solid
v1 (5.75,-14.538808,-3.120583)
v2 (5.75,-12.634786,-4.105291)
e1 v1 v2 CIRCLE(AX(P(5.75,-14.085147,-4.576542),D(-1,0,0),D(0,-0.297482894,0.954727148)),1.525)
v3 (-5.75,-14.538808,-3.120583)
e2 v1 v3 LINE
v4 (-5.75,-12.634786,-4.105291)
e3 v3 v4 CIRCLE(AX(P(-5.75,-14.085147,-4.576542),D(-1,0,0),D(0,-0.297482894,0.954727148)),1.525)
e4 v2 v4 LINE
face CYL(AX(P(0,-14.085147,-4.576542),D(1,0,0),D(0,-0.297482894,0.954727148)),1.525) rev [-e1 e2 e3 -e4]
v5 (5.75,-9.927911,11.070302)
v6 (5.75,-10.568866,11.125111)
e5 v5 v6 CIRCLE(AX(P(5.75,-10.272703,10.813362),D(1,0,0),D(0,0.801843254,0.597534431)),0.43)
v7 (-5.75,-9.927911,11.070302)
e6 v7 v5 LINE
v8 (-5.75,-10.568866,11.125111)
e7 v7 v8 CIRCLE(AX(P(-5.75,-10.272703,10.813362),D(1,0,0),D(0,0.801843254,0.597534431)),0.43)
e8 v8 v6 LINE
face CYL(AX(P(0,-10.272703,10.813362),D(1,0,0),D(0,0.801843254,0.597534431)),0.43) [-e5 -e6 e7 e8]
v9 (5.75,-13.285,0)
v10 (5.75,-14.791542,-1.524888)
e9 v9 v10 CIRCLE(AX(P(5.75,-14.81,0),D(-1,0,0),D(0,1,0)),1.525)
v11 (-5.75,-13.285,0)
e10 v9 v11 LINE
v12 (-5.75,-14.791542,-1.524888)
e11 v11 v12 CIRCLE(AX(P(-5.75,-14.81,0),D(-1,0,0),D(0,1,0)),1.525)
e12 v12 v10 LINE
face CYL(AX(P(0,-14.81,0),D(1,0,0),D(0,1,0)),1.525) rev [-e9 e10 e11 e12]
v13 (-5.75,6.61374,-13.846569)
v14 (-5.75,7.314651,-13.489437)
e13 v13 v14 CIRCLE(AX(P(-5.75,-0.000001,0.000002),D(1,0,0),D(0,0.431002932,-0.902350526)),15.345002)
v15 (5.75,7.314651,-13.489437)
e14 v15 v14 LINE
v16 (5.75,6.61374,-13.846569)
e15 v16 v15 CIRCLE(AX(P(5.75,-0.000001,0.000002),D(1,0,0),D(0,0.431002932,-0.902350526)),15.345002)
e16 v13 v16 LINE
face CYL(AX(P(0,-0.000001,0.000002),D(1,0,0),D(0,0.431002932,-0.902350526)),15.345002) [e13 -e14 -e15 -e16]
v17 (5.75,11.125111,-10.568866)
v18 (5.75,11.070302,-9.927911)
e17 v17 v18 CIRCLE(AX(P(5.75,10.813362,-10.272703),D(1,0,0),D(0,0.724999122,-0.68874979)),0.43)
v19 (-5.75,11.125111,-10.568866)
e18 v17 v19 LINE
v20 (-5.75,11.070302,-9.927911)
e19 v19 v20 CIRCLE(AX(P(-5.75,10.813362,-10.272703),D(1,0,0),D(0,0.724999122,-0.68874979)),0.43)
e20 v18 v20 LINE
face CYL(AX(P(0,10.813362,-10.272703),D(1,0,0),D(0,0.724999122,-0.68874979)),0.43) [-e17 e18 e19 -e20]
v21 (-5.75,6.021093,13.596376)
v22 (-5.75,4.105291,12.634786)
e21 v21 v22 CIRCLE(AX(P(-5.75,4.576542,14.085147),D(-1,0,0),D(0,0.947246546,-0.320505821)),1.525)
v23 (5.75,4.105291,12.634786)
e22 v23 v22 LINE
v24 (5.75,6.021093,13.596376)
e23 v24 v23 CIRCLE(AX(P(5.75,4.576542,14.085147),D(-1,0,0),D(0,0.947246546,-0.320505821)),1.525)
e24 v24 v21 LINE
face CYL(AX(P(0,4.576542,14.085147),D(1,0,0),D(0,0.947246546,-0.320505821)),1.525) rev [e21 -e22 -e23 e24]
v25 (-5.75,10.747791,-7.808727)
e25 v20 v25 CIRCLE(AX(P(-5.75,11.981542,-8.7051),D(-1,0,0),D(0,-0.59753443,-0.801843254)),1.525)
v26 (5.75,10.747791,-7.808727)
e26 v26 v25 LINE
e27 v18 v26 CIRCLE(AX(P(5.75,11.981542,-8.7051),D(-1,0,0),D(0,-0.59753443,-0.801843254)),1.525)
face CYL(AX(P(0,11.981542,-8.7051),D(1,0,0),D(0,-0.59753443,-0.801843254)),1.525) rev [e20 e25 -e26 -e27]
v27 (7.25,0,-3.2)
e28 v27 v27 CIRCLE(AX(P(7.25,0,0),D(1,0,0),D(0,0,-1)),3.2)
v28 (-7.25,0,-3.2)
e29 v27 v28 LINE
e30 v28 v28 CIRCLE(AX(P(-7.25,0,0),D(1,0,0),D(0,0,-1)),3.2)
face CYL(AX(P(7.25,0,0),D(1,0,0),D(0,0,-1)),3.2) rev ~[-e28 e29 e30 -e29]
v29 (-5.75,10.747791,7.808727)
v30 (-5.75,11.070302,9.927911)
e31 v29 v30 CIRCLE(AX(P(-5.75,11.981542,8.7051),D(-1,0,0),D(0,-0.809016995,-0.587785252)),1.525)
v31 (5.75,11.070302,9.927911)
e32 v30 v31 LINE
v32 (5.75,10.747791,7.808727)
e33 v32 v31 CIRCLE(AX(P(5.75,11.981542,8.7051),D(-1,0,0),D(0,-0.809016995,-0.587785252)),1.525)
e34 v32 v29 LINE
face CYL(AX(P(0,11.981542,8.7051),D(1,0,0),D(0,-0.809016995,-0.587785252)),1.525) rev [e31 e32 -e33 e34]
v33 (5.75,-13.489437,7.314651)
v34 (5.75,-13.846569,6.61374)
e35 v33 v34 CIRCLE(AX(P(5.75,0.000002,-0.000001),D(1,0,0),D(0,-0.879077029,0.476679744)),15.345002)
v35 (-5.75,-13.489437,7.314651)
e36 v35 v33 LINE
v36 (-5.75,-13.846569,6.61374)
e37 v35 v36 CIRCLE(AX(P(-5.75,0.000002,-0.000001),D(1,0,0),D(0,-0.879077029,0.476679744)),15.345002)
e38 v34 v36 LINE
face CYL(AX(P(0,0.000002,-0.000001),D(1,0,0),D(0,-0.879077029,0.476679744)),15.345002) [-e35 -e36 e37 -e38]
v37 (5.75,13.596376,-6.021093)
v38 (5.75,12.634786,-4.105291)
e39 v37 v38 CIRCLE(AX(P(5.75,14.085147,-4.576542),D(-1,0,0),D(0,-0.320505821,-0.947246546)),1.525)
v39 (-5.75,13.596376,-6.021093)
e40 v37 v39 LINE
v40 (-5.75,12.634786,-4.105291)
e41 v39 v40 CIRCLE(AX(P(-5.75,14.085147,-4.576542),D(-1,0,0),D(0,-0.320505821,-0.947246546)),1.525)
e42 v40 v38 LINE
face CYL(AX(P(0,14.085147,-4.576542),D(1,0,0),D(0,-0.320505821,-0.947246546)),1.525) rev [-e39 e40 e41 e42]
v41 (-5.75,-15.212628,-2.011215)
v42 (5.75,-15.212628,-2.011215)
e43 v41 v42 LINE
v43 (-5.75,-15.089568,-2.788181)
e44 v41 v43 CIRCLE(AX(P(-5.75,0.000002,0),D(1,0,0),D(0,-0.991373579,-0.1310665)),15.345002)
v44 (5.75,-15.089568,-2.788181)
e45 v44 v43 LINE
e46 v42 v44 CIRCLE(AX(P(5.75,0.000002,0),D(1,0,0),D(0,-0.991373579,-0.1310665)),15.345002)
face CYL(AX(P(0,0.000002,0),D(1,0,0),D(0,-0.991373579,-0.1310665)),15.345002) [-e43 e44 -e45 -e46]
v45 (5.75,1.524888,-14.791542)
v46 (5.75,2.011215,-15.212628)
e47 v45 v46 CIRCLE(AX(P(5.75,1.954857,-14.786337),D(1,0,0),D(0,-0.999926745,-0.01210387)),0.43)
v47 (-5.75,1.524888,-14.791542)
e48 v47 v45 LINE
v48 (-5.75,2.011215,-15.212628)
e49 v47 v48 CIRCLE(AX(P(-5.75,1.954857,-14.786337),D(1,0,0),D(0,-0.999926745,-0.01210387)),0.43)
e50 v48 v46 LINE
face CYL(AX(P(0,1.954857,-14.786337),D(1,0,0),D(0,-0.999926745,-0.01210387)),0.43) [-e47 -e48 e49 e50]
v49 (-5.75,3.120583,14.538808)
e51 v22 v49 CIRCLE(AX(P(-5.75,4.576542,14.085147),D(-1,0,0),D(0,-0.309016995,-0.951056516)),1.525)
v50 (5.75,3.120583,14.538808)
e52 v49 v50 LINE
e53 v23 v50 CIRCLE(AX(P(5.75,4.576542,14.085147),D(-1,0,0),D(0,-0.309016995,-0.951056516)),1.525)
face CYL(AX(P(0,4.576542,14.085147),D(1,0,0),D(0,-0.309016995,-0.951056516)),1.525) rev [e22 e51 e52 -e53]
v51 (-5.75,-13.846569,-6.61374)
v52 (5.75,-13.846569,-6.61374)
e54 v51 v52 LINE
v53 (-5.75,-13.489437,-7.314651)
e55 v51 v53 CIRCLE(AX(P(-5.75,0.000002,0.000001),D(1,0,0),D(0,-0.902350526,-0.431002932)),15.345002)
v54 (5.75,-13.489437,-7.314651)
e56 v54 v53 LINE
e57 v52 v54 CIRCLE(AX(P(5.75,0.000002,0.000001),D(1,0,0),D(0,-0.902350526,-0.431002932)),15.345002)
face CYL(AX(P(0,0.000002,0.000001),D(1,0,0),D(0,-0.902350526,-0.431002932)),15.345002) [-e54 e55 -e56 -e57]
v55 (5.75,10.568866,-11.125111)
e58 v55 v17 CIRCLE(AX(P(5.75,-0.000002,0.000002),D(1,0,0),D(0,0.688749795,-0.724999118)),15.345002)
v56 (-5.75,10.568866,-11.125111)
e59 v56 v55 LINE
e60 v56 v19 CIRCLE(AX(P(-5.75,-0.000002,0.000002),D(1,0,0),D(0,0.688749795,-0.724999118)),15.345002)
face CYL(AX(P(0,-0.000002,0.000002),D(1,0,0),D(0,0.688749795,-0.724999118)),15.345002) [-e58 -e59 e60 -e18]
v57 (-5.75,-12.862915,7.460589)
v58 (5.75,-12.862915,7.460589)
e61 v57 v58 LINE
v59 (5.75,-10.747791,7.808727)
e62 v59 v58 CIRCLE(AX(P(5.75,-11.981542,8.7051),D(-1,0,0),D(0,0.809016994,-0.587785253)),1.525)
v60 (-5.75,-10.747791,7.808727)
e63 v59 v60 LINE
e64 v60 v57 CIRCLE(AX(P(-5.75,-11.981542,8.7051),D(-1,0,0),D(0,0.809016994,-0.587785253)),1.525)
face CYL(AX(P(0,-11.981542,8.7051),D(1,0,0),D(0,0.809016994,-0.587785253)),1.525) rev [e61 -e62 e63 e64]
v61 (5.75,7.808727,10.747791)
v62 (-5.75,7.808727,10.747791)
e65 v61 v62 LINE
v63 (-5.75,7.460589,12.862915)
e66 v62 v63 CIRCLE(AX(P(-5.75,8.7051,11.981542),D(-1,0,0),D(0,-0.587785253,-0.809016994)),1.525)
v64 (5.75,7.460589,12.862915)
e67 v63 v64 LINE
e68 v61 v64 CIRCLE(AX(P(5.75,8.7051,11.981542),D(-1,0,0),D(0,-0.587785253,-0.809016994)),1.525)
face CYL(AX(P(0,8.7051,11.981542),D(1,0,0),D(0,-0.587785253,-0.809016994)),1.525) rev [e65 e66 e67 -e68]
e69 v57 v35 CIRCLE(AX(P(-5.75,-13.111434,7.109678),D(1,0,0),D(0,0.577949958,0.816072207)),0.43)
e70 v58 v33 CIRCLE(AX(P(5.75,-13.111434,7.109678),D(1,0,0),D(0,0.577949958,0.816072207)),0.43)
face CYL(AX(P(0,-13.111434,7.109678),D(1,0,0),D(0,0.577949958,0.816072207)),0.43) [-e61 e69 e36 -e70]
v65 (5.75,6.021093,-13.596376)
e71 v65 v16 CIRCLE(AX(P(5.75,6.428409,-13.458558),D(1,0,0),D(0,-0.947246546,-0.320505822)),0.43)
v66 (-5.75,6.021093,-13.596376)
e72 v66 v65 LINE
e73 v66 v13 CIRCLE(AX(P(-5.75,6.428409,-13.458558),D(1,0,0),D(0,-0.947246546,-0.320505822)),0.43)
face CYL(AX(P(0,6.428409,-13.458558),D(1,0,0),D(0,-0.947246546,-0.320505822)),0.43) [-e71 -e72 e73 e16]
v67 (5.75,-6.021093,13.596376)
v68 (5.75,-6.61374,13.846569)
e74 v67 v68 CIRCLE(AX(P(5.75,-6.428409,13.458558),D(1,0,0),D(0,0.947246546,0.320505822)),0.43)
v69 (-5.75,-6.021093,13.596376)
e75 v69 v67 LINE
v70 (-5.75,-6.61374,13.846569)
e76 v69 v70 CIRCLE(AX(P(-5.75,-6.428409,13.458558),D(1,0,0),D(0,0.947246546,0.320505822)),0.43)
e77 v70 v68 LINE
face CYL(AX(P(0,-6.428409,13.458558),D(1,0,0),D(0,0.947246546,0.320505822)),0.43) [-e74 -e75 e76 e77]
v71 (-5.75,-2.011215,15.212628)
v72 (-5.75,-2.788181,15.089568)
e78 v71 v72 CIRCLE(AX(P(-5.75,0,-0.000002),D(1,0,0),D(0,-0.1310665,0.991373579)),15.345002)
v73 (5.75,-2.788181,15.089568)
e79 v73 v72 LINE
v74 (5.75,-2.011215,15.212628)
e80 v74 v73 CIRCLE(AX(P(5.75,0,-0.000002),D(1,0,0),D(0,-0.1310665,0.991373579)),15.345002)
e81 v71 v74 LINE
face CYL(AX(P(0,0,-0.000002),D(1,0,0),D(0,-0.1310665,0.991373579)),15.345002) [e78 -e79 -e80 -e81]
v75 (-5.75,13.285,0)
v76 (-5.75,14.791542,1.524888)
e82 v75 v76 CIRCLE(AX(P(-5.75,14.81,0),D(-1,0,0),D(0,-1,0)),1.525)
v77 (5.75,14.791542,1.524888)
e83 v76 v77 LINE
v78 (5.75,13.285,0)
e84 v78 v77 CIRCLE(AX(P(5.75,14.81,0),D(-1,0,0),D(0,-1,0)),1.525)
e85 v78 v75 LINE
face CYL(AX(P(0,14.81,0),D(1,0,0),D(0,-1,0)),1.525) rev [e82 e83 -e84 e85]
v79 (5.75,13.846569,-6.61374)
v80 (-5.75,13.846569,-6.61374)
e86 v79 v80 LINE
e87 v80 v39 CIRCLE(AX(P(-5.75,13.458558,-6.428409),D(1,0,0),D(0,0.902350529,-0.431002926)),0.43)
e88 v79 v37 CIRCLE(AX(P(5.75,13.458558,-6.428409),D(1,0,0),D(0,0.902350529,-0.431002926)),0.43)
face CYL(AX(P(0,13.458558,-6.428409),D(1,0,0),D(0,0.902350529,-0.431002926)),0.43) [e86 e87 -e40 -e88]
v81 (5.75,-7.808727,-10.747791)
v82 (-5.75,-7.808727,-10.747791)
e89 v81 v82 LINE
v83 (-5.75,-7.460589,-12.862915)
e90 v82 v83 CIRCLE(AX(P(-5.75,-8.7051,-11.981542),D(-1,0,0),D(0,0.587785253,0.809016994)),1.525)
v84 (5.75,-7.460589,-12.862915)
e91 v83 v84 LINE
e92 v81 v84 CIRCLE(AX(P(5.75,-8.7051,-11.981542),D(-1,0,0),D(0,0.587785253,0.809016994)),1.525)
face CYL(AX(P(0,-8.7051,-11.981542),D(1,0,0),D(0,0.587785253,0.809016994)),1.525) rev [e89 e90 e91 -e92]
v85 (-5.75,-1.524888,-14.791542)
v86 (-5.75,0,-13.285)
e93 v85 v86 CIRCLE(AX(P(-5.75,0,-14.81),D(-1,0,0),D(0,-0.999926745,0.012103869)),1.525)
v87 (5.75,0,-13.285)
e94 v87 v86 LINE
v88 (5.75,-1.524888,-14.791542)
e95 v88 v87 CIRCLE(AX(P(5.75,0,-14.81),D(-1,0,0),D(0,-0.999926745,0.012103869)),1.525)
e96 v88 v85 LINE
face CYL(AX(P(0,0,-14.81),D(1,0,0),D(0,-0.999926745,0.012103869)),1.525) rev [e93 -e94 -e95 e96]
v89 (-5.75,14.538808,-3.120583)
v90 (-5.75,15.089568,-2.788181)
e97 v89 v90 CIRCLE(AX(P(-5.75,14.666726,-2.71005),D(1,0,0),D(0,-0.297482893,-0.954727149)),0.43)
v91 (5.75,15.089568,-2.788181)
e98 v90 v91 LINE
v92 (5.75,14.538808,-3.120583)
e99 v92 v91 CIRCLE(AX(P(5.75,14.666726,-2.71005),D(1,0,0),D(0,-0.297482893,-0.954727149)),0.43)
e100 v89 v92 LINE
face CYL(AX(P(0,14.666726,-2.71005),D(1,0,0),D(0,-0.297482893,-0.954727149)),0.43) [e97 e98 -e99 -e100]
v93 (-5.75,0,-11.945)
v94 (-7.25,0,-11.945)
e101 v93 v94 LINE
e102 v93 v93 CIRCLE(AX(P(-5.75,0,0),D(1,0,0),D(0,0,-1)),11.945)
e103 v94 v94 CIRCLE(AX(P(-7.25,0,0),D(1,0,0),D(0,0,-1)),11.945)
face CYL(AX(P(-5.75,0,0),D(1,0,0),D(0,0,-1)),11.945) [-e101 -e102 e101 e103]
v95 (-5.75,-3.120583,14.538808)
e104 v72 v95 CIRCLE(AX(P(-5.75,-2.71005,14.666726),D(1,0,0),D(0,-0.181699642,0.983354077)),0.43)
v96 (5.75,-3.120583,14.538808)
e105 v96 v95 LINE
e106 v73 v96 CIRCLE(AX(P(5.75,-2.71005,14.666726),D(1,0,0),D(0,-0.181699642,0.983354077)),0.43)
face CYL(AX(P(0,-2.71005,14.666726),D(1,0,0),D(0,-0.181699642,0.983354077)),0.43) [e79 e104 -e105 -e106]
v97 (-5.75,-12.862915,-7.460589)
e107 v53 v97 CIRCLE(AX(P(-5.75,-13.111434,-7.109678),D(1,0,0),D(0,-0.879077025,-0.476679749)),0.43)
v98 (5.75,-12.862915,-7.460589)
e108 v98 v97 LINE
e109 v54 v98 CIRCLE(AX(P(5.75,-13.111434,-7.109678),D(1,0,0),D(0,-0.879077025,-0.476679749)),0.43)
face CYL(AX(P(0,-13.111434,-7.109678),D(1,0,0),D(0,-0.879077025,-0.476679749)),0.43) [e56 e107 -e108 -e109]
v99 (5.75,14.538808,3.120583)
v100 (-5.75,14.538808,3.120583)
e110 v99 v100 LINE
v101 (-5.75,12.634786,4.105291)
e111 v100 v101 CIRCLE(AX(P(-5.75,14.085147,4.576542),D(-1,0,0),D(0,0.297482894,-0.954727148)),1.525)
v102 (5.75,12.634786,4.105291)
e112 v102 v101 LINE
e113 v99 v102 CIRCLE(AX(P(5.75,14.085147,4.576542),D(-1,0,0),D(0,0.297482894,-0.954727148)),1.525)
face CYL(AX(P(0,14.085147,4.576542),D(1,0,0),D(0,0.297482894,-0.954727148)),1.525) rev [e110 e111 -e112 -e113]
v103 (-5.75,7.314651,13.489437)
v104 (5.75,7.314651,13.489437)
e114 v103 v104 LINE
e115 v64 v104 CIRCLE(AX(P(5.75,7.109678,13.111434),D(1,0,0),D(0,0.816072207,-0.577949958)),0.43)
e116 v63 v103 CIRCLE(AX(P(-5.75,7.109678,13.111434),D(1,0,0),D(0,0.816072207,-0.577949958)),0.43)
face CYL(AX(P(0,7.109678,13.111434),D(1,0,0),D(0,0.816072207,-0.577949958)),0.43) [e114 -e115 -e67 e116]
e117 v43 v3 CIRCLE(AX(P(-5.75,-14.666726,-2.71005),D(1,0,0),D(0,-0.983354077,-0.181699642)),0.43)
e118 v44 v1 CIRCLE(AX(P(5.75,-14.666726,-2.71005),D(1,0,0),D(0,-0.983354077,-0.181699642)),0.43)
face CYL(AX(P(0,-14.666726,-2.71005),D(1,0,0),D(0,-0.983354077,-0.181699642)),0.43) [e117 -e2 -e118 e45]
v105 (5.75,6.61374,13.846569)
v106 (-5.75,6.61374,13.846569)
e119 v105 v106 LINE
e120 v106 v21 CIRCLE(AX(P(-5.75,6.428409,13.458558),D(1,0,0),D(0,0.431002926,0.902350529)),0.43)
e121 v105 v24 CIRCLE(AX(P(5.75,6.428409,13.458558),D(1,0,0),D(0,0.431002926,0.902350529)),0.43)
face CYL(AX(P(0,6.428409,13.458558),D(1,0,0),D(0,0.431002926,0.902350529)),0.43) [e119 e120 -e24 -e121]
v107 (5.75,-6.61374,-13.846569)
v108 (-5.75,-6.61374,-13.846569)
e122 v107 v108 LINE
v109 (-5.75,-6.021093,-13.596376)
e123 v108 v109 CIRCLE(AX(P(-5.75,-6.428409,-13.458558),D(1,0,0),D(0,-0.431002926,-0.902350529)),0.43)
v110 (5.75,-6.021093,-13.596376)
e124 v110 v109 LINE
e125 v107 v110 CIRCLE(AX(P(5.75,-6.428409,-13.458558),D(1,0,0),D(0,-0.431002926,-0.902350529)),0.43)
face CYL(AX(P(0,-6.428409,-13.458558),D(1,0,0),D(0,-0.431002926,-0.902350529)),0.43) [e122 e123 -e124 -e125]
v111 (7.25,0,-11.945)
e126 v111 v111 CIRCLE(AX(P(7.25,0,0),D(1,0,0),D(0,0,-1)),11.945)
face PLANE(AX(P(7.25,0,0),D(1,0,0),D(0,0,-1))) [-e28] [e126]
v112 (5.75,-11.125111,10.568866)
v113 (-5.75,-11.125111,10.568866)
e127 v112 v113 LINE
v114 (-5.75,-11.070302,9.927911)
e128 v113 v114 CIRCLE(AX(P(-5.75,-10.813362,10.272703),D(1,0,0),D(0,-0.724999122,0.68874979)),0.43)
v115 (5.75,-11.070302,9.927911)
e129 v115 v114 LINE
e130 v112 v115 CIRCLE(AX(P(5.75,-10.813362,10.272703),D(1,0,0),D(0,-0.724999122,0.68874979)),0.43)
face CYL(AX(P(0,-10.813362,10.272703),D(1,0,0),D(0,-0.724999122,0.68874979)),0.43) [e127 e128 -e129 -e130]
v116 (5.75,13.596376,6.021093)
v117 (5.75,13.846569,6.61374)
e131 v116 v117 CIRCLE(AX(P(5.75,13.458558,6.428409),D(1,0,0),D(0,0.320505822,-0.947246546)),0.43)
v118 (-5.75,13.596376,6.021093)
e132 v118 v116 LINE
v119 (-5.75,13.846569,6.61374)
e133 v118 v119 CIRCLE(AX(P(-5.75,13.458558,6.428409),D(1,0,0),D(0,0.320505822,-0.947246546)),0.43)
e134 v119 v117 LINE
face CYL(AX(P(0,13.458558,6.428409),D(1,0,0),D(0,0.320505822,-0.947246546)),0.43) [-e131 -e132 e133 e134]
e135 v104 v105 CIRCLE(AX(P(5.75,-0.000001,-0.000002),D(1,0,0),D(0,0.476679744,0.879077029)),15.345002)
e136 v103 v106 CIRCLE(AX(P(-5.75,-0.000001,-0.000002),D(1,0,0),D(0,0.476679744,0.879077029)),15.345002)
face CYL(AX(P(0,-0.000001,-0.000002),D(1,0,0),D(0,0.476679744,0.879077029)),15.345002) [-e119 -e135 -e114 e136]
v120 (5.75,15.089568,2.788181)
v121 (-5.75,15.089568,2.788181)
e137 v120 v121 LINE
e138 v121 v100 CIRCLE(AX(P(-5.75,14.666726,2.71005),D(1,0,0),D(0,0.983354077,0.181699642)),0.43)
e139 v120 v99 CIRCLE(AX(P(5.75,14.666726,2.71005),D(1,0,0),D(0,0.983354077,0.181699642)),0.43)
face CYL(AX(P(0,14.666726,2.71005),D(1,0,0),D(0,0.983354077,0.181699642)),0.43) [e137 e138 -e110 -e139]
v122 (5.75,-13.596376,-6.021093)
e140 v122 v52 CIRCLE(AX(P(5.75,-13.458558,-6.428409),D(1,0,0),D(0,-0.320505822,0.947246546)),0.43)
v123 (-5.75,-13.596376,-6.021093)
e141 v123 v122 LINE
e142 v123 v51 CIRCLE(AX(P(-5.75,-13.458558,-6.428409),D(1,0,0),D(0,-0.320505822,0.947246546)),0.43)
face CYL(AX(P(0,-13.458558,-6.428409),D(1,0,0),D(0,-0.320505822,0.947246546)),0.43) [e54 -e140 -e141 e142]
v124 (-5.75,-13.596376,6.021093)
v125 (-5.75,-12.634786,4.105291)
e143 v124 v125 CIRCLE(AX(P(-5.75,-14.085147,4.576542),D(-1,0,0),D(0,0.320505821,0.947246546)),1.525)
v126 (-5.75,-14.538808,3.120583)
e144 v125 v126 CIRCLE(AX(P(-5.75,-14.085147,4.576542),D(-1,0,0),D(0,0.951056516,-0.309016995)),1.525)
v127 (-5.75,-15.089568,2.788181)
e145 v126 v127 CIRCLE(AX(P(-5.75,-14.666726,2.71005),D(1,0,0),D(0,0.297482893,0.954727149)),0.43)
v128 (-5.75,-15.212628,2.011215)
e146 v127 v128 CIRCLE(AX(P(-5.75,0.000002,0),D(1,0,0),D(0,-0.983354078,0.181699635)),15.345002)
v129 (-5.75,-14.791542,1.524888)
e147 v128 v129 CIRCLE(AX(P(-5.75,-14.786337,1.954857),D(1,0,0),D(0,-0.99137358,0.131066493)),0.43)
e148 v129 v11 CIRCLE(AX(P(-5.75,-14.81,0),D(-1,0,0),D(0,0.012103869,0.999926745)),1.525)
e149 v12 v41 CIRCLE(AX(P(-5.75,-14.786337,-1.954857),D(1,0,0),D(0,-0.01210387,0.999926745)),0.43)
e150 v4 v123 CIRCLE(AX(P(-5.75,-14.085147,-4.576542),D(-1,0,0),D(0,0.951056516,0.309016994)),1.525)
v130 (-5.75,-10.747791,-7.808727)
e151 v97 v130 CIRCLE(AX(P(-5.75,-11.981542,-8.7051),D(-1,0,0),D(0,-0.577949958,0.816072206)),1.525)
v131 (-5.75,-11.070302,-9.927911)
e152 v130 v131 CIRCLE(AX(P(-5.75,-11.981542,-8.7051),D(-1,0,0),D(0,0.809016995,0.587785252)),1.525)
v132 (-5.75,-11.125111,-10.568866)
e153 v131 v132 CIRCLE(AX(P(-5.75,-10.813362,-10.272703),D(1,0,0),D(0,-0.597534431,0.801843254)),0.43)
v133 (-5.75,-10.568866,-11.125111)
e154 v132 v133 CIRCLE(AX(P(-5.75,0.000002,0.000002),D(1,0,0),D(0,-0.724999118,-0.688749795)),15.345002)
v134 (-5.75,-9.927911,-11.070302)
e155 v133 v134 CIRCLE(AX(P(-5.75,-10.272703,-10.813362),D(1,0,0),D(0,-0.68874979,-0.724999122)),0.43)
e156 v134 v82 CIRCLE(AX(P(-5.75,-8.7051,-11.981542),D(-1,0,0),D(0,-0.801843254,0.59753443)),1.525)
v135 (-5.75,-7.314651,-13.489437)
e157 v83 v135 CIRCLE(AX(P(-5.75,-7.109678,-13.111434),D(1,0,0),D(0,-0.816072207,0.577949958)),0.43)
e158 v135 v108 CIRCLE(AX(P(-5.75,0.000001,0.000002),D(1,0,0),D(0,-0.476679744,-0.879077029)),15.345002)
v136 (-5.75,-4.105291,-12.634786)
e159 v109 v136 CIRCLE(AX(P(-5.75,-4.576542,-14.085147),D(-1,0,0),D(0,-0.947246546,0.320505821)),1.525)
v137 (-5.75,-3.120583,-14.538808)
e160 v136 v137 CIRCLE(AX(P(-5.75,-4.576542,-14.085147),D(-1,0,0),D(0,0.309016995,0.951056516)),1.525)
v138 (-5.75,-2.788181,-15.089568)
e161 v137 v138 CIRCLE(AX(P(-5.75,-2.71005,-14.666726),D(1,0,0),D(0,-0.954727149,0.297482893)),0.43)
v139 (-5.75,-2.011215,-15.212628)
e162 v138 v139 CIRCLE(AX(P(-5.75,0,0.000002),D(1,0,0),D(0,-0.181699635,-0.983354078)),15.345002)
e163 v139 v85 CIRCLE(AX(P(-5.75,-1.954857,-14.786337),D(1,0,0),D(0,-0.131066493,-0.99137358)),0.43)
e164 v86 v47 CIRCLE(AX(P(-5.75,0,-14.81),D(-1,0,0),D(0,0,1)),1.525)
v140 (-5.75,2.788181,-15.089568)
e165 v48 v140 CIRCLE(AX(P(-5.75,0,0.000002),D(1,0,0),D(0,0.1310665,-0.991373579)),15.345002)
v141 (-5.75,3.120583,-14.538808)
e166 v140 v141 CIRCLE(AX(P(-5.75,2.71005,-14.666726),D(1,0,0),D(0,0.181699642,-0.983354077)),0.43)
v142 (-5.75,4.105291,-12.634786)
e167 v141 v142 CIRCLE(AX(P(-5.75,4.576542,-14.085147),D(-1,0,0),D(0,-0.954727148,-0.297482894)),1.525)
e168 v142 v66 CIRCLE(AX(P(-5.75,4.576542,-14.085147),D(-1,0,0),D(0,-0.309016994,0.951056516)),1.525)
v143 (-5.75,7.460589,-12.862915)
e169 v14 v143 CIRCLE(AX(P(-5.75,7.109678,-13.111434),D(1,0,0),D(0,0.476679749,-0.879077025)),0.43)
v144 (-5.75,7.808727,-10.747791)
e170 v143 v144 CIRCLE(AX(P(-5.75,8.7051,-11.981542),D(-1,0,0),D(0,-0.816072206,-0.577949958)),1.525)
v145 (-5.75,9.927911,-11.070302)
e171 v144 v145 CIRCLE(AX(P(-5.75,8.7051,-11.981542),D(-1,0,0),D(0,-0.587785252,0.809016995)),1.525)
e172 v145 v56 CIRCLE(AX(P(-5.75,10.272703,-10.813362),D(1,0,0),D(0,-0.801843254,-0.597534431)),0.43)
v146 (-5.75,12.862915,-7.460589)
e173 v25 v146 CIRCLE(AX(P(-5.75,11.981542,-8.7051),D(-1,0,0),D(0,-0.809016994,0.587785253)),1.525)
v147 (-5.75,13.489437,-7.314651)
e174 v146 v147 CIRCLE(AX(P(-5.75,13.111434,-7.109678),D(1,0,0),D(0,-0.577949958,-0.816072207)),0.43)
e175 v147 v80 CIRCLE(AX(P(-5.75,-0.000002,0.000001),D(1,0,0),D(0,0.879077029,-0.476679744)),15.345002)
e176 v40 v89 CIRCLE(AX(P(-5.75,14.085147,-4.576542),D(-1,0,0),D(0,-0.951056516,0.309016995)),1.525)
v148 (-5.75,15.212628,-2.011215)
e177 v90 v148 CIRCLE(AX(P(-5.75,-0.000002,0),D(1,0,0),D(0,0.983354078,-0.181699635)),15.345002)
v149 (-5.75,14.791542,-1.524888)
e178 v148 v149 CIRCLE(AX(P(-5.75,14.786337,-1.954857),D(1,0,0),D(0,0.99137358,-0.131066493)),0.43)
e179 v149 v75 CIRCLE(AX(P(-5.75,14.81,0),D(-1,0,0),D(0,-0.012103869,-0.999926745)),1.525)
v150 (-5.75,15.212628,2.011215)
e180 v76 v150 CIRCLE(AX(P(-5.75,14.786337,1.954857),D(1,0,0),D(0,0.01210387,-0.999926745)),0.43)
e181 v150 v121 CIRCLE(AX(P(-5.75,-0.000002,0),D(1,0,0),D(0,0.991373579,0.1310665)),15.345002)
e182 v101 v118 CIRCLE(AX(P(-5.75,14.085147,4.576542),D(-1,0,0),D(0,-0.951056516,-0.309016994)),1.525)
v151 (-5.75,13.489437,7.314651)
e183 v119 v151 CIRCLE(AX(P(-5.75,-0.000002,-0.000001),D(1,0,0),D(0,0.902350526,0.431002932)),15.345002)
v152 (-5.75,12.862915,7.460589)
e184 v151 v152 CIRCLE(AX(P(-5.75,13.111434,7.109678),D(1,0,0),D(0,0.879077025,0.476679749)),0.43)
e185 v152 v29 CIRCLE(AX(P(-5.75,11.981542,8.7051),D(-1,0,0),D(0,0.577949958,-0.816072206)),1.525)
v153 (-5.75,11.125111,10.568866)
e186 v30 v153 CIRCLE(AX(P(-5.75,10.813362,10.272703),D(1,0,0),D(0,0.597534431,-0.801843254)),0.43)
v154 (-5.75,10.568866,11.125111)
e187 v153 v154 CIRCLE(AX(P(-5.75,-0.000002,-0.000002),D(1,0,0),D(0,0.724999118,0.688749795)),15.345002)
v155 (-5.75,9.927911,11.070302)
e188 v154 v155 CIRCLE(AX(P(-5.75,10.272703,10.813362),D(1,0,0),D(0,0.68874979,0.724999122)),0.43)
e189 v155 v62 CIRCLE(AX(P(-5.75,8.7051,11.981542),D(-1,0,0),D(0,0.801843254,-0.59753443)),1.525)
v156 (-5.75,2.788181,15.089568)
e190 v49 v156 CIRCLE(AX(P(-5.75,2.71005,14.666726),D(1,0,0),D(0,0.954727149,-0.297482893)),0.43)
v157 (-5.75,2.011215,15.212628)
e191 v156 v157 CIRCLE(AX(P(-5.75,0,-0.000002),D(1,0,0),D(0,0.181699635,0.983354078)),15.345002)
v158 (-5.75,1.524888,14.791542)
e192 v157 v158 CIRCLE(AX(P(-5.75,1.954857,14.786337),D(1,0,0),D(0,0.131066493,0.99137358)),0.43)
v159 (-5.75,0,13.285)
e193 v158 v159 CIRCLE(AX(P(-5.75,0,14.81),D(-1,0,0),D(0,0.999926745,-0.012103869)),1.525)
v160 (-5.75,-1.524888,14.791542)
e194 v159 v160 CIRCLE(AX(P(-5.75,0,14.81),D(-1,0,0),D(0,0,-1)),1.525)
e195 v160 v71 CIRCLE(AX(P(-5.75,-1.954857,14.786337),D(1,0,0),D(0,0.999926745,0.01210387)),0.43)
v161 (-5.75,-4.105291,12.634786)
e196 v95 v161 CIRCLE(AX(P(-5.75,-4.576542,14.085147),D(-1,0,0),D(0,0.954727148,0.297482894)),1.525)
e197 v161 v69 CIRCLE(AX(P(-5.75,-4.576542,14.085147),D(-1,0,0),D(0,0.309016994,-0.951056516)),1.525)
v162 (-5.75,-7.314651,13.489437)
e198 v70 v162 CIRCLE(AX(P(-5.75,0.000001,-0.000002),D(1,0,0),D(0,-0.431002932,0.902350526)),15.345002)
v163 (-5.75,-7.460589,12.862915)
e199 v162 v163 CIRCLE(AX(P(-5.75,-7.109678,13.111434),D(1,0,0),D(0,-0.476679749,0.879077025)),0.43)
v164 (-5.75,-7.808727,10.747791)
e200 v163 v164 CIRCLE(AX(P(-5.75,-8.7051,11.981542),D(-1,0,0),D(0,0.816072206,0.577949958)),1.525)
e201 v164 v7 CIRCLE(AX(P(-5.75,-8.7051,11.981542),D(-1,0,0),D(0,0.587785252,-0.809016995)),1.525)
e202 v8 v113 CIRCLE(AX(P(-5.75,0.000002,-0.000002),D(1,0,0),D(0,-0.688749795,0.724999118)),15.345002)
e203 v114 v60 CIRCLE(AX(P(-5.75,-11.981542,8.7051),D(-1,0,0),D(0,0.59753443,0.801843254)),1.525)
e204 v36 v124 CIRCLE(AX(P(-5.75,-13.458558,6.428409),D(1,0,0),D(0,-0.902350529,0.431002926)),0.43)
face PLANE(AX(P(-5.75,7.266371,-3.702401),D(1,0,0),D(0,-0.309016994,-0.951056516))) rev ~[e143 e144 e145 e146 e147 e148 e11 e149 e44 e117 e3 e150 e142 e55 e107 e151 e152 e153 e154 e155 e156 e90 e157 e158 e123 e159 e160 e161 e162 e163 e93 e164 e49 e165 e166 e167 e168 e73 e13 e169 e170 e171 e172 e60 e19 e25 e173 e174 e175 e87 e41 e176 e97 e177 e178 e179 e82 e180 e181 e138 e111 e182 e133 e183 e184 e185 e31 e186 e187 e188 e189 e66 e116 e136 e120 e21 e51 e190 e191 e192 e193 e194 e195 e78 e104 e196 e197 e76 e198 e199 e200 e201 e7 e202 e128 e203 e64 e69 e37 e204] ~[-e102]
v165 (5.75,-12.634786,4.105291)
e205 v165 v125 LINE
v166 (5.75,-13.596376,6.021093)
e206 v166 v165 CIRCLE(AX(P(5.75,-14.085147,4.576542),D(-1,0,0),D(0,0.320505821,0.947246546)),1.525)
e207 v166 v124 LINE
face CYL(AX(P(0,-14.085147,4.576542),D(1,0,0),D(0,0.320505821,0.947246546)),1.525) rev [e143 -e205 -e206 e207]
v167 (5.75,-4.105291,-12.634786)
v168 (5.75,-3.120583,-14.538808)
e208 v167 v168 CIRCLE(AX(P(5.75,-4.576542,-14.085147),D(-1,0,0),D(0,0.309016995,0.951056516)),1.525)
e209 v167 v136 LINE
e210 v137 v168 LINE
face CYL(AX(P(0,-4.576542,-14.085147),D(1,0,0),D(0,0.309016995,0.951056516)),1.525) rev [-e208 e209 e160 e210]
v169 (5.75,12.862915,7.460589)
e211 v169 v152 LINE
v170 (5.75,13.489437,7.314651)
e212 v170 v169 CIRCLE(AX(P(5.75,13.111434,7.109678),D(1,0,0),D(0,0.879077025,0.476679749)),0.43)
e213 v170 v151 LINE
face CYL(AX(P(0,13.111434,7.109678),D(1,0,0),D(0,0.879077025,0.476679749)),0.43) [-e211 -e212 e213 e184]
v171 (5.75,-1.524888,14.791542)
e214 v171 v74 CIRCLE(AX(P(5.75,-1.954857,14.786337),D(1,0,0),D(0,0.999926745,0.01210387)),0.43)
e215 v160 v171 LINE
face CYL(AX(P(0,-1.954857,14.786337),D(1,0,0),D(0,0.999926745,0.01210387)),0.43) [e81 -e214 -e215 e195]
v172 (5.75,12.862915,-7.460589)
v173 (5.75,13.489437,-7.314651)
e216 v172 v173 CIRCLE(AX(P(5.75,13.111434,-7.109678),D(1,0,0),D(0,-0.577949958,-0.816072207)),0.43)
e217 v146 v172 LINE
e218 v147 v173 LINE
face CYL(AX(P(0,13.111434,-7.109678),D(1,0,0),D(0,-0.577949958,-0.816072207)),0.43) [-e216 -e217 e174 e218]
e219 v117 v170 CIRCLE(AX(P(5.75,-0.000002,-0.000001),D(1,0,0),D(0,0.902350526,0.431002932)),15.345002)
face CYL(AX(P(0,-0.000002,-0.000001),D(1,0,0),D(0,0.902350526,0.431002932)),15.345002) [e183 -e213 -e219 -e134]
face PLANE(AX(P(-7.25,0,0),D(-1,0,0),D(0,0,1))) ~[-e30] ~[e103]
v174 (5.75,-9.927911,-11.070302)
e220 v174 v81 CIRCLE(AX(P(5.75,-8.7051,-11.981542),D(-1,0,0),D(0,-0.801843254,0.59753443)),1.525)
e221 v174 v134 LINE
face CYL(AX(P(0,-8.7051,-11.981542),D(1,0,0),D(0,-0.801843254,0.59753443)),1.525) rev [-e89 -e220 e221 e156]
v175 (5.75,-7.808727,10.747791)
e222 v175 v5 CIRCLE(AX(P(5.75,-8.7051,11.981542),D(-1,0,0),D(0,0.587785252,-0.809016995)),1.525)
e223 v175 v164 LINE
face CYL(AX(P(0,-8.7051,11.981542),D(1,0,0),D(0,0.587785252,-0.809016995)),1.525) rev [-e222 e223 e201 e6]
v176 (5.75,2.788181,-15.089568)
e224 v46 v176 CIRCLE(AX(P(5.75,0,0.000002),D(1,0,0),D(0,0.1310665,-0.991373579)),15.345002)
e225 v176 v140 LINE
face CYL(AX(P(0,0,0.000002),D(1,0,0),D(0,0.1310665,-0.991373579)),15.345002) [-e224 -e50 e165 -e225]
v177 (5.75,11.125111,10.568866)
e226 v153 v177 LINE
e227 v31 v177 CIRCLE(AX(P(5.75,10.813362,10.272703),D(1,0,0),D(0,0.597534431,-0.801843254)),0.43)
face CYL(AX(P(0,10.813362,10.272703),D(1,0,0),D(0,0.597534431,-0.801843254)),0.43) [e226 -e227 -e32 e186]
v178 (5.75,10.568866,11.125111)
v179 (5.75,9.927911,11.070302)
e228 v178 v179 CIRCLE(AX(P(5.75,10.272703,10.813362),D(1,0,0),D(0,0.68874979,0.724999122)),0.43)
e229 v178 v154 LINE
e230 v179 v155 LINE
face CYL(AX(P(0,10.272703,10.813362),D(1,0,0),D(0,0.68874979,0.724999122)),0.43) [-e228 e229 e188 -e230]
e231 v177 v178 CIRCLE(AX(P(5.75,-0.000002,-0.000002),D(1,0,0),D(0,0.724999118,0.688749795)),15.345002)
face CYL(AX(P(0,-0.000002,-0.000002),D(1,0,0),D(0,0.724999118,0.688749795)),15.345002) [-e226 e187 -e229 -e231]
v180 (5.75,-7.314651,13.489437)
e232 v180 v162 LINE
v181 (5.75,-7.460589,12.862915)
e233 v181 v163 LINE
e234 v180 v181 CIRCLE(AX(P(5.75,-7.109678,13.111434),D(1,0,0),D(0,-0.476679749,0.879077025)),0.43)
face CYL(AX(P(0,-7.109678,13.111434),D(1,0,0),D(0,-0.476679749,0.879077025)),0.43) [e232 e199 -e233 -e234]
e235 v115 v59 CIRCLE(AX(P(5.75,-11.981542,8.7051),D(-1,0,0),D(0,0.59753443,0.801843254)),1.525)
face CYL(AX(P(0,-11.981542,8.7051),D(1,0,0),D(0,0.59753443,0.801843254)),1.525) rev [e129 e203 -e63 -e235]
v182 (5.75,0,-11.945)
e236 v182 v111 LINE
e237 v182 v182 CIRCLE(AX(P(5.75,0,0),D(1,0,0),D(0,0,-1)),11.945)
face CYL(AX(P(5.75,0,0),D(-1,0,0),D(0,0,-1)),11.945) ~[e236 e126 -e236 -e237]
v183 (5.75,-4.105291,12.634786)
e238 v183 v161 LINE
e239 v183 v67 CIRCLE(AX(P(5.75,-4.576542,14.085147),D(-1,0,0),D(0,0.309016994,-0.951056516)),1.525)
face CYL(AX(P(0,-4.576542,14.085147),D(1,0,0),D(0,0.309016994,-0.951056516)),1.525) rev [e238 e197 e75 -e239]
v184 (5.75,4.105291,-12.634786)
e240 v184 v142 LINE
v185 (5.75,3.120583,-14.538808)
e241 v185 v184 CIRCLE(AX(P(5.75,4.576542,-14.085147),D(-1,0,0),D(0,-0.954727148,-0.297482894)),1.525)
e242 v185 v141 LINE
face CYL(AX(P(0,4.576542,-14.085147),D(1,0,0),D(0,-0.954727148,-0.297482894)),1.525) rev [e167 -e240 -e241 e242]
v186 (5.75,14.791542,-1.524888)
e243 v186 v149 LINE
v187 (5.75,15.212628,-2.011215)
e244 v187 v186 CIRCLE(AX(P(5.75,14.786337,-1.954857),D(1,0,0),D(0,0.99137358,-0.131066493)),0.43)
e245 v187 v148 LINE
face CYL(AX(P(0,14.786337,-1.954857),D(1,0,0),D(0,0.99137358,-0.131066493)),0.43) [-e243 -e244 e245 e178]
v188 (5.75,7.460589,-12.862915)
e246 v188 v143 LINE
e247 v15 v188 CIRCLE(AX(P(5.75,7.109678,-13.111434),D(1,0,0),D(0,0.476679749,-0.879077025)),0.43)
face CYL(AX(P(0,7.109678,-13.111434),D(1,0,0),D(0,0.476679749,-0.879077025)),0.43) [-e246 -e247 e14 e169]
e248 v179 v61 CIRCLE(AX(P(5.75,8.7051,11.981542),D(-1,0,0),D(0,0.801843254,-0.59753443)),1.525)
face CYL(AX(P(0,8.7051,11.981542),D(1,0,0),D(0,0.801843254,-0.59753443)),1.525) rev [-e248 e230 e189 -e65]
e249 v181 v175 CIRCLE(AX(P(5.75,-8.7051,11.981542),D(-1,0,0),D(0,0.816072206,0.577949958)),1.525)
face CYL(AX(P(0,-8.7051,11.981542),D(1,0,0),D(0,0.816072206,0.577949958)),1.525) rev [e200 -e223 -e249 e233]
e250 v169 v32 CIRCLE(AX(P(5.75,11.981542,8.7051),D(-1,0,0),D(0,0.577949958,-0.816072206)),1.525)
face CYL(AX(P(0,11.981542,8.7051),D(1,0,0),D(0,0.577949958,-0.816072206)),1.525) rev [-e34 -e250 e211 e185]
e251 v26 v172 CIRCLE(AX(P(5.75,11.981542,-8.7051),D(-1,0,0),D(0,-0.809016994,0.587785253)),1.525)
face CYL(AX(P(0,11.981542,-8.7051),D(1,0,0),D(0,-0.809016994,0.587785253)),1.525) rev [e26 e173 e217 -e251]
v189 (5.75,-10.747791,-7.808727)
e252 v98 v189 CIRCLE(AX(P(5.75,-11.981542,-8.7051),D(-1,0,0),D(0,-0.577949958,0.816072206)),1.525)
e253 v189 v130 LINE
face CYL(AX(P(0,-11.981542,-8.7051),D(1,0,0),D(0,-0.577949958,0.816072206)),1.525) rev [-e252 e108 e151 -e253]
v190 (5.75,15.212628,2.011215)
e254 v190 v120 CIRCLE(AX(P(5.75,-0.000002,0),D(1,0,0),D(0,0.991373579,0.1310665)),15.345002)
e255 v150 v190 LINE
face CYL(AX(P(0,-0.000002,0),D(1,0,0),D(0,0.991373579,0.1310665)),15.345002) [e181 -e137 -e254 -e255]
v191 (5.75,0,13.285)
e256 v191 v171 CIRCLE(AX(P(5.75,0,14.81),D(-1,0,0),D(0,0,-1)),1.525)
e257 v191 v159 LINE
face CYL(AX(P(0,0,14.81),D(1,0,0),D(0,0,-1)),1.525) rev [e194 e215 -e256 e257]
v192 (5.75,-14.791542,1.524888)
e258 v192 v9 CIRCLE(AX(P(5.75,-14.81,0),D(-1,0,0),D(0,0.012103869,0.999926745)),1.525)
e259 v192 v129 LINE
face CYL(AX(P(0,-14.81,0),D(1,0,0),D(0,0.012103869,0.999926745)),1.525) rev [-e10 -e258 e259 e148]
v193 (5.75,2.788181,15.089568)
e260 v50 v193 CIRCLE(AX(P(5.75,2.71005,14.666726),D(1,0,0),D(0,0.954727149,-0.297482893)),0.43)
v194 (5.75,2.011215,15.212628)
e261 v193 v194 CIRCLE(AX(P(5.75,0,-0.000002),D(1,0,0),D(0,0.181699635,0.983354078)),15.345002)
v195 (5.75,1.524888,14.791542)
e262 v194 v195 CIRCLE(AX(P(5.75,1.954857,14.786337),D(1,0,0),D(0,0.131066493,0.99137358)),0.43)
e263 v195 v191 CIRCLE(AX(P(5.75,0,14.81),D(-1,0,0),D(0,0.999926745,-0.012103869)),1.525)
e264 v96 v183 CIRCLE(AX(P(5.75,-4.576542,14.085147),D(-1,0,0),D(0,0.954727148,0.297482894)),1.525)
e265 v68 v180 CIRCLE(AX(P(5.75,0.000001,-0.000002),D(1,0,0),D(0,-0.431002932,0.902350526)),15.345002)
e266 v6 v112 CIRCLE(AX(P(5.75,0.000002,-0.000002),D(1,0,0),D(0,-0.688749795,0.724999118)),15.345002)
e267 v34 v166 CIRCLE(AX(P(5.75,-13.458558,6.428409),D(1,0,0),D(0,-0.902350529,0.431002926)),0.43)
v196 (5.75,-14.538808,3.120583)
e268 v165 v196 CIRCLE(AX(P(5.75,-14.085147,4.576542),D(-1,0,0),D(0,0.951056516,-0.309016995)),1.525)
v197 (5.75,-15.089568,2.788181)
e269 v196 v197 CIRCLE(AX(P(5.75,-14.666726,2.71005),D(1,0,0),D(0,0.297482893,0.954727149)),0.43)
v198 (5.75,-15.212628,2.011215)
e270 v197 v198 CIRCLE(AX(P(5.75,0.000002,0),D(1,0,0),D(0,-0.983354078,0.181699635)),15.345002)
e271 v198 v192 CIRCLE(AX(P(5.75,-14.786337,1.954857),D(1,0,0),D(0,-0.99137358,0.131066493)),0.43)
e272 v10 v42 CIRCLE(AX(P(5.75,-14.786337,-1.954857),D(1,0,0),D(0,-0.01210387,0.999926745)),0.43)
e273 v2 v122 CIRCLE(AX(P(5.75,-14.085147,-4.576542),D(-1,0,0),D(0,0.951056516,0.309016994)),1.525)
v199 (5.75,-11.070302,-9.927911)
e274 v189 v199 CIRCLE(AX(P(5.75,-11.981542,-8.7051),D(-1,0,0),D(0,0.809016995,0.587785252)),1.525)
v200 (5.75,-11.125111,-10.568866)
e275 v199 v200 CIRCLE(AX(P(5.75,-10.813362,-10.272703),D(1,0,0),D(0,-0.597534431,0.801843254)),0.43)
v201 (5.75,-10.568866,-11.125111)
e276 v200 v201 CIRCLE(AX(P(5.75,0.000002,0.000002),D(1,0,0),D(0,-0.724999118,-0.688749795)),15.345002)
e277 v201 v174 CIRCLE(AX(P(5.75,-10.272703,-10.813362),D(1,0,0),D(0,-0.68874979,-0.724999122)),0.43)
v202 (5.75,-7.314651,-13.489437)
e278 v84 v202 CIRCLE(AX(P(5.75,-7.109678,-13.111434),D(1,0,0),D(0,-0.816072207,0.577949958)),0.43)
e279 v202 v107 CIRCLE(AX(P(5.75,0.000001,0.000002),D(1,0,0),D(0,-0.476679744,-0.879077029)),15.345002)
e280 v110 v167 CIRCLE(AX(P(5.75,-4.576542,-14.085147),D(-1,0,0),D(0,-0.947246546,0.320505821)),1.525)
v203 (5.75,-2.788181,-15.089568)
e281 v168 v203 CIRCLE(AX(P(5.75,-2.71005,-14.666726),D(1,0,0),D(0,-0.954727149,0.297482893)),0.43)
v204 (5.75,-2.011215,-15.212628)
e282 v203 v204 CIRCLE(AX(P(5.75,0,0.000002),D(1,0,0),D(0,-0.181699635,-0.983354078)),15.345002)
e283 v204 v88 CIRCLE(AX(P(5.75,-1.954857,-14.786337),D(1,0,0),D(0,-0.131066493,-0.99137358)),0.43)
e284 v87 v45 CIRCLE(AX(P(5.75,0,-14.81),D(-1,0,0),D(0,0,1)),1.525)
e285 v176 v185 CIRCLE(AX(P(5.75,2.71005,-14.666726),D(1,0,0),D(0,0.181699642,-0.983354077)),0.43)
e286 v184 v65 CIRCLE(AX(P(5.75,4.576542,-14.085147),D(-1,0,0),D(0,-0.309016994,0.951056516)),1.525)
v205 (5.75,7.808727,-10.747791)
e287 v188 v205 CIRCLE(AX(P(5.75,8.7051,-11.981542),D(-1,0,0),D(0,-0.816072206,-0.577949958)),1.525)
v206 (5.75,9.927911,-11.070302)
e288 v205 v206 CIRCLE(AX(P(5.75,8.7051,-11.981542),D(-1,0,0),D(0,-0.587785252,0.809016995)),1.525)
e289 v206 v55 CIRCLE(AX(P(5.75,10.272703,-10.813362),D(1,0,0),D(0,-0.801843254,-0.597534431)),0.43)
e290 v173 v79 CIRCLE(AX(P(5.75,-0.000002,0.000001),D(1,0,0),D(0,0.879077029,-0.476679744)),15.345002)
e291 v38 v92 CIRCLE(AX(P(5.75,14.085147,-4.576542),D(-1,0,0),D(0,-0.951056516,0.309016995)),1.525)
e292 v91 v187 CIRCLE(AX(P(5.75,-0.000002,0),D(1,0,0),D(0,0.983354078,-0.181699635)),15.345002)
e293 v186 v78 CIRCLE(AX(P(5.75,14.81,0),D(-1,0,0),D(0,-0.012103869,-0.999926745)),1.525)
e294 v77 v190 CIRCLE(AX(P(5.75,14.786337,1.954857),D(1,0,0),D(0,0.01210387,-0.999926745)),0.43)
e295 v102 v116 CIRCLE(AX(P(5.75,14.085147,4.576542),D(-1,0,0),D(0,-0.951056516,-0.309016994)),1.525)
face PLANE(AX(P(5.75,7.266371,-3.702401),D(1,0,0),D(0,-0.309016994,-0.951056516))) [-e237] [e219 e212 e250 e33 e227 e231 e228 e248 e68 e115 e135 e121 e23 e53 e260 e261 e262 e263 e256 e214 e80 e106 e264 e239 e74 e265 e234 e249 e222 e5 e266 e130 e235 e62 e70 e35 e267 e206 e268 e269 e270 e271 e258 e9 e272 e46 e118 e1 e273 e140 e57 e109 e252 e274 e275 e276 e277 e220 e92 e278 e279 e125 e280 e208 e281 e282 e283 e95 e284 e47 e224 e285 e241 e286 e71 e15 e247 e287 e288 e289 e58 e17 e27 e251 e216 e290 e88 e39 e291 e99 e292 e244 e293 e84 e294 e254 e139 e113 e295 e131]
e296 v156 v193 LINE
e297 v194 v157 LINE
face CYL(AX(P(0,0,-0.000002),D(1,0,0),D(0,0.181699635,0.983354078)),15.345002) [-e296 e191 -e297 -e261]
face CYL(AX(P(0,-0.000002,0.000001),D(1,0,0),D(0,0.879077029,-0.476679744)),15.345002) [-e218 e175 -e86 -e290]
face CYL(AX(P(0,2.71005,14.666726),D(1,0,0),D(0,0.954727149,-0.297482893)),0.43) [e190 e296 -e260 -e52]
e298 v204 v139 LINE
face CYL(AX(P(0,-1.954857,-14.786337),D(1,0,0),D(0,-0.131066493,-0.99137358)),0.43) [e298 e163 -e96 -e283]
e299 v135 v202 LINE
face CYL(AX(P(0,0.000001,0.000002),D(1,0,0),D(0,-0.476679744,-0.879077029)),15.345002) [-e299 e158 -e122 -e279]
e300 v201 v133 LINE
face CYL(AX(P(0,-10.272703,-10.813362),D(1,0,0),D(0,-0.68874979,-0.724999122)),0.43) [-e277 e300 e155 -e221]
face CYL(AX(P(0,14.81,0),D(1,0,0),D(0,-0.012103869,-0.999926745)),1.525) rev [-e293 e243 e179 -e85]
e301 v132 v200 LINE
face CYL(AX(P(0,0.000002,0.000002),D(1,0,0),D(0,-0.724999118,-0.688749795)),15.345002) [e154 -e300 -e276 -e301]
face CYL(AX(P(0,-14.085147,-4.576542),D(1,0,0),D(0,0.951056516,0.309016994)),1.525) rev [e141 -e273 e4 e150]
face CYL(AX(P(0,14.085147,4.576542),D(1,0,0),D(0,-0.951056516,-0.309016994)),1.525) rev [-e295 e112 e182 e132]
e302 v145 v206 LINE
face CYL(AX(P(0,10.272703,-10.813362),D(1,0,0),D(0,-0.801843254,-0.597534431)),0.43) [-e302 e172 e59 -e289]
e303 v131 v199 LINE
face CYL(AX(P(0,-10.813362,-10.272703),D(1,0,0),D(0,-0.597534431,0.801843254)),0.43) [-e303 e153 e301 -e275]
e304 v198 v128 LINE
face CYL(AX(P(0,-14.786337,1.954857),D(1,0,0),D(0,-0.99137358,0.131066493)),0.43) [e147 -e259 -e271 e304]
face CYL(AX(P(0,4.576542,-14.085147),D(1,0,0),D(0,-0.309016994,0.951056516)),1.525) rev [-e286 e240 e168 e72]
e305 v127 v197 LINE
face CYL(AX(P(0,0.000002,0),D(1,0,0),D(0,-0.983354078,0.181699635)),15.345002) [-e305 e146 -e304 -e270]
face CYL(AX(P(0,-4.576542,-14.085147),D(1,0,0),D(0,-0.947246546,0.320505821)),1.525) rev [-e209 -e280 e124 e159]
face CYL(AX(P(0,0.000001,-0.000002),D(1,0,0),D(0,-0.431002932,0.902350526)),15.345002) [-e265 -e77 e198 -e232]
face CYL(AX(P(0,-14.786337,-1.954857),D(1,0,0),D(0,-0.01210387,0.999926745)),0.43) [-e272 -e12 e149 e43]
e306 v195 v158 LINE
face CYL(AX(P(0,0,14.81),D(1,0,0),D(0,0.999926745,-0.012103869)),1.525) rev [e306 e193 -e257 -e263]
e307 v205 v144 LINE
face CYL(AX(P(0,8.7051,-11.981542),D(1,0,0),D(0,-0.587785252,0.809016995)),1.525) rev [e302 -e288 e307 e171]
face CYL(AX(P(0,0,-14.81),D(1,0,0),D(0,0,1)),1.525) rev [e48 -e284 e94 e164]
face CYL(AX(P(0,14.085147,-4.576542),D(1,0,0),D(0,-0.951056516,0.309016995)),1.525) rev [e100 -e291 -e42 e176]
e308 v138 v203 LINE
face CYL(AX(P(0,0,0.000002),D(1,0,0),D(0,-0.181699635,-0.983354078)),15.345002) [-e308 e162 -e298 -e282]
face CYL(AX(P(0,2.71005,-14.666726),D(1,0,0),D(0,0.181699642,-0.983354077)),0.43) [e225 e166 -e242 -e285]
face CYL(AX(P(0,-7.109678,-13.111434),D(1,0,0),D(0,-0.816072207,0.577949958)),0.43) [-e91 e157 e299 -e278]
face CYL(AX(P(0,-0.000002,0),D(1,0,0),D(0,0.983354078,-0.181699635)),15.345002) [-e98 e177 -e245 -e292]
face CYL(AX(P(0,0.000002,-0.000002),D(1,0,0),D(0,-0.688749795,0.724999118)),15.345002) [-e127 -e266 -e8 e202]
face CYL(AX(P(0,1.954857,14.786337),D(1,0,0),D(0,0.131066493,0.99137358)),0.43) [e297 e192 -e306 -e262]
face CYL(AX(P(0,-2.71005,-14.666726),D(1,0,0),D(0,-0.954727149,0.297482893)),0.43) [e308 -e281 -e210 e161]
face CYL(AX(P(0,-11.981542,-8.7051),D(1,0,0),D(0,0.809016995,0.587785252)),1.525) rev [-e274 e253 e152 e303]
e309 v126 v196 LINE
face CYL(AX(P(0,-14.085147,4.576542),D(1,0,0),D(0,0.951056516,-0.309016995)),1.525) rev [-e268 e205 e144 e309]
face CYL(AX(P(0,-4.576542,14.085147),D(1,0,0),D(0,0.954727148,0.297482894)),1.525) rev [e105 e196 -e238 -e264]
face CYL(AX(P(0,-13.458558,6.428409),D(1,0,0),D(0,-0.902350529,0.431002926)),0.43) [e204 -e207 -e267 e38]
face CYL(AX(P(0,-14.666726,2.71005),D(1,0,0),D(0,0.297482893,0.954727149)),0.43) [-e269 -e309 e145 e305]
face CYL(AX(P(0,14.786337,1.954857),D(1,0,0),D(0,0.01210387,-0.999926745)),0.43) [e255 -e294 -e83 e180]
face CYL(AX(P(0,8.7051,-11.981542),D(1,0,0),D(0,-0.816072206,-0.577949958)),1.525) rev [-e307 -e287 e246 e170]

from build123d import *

# Parameters (mm, degrees)
BOSS_EXTRUDE1_DEPTH = 5.75
CIRPATTERN1_COUNT   = 20
SKETCH2_R           = 11.945
BOSS_EXTRUDE2_DEPTH = 1.5
SKETCH3_R           = 3.2
CUT_EXTRUDE1_DEPTH  = 14.5


with BuildPart() as part:
    # Sketch1 → Boss-Extrude1 (new, symmetric)
    with BuildSketch(Plane(origin=(0, 0, 0), x_dir=(0, 0, -1), z_dir=(1, 0, 0))):
        with BuildLine():
            Line((0, 13.285), (0, 0))
            Line((0, 0), (4.10529077, 12.634785819))
            ThreePointArc((4.10529077, 12.634785819), (3.221971668, 13.384600745), (3.120582785, 14.538808418))
            ThreePointArc((3.120582785, 14.538808418), (3.07819699, 14.888914891), (2.788180956, 15.089568316))
            ThreePointArc((2.788180956, 15.089568316), (2.400486866, 15.156077586), (2.011215381, 15.212627574))
            ThreePointArc((2.011215381, 15.212627574), (1.673388423, 15.111414709), (1.524888287, 14.791541599))
            ThreePointArc((1.524888287, 14.791541599), (1.071791943, 13.725155757), (0, 13.285))
        make_face()
    boss_extrude1 = extrude(amount=BOSS_EXTRUDE1_DEPTH, both=True)

    # CirPattern1: Boss-Extrude1 ×20 about axis
    cirpattern1_axis = Axis((0, 0, 0), (1, 0, 0))
    for i in range(1, CIRPATTERN1_COUNT):
        add(boss_extrude1.rotate(cirpattern1_axis, i * 360 / CIRPATTERN1_COUNT))

    # Sketch2 → Boss-Extrude2 (add)
    with BuildSketch(Plane(origin=(5.75, 0, 0), x_dir=(0, 0, -1), z_dir=(1, 0, 0))):
        Circle(SKETCH2_R)
    boss_extrude2 = extrude(amount=BOSS_EXTRUDE2_DEPTH)

    # Mirror1: Boss-Extrude2 across plane
    add(boss_extrude2.mirror(Plane(origin=(0, 0, 0), x_dir=(0, 0, 1), z_dir=(1, 0, 0))))

    # Sketch3 → Cut-Extrude1 (cut)
    with BuildSketch(Plane(origin=(7.25, 0, 0), x_dir=(0, 0, -1), z_dir=(1, 0, 0))):
        Circle(SKETCH3_R)
    extrude(amount=-CUT_EXTRUDE1_DEPTH, mode=Mode.SUBTRACT)


solid = part.part
